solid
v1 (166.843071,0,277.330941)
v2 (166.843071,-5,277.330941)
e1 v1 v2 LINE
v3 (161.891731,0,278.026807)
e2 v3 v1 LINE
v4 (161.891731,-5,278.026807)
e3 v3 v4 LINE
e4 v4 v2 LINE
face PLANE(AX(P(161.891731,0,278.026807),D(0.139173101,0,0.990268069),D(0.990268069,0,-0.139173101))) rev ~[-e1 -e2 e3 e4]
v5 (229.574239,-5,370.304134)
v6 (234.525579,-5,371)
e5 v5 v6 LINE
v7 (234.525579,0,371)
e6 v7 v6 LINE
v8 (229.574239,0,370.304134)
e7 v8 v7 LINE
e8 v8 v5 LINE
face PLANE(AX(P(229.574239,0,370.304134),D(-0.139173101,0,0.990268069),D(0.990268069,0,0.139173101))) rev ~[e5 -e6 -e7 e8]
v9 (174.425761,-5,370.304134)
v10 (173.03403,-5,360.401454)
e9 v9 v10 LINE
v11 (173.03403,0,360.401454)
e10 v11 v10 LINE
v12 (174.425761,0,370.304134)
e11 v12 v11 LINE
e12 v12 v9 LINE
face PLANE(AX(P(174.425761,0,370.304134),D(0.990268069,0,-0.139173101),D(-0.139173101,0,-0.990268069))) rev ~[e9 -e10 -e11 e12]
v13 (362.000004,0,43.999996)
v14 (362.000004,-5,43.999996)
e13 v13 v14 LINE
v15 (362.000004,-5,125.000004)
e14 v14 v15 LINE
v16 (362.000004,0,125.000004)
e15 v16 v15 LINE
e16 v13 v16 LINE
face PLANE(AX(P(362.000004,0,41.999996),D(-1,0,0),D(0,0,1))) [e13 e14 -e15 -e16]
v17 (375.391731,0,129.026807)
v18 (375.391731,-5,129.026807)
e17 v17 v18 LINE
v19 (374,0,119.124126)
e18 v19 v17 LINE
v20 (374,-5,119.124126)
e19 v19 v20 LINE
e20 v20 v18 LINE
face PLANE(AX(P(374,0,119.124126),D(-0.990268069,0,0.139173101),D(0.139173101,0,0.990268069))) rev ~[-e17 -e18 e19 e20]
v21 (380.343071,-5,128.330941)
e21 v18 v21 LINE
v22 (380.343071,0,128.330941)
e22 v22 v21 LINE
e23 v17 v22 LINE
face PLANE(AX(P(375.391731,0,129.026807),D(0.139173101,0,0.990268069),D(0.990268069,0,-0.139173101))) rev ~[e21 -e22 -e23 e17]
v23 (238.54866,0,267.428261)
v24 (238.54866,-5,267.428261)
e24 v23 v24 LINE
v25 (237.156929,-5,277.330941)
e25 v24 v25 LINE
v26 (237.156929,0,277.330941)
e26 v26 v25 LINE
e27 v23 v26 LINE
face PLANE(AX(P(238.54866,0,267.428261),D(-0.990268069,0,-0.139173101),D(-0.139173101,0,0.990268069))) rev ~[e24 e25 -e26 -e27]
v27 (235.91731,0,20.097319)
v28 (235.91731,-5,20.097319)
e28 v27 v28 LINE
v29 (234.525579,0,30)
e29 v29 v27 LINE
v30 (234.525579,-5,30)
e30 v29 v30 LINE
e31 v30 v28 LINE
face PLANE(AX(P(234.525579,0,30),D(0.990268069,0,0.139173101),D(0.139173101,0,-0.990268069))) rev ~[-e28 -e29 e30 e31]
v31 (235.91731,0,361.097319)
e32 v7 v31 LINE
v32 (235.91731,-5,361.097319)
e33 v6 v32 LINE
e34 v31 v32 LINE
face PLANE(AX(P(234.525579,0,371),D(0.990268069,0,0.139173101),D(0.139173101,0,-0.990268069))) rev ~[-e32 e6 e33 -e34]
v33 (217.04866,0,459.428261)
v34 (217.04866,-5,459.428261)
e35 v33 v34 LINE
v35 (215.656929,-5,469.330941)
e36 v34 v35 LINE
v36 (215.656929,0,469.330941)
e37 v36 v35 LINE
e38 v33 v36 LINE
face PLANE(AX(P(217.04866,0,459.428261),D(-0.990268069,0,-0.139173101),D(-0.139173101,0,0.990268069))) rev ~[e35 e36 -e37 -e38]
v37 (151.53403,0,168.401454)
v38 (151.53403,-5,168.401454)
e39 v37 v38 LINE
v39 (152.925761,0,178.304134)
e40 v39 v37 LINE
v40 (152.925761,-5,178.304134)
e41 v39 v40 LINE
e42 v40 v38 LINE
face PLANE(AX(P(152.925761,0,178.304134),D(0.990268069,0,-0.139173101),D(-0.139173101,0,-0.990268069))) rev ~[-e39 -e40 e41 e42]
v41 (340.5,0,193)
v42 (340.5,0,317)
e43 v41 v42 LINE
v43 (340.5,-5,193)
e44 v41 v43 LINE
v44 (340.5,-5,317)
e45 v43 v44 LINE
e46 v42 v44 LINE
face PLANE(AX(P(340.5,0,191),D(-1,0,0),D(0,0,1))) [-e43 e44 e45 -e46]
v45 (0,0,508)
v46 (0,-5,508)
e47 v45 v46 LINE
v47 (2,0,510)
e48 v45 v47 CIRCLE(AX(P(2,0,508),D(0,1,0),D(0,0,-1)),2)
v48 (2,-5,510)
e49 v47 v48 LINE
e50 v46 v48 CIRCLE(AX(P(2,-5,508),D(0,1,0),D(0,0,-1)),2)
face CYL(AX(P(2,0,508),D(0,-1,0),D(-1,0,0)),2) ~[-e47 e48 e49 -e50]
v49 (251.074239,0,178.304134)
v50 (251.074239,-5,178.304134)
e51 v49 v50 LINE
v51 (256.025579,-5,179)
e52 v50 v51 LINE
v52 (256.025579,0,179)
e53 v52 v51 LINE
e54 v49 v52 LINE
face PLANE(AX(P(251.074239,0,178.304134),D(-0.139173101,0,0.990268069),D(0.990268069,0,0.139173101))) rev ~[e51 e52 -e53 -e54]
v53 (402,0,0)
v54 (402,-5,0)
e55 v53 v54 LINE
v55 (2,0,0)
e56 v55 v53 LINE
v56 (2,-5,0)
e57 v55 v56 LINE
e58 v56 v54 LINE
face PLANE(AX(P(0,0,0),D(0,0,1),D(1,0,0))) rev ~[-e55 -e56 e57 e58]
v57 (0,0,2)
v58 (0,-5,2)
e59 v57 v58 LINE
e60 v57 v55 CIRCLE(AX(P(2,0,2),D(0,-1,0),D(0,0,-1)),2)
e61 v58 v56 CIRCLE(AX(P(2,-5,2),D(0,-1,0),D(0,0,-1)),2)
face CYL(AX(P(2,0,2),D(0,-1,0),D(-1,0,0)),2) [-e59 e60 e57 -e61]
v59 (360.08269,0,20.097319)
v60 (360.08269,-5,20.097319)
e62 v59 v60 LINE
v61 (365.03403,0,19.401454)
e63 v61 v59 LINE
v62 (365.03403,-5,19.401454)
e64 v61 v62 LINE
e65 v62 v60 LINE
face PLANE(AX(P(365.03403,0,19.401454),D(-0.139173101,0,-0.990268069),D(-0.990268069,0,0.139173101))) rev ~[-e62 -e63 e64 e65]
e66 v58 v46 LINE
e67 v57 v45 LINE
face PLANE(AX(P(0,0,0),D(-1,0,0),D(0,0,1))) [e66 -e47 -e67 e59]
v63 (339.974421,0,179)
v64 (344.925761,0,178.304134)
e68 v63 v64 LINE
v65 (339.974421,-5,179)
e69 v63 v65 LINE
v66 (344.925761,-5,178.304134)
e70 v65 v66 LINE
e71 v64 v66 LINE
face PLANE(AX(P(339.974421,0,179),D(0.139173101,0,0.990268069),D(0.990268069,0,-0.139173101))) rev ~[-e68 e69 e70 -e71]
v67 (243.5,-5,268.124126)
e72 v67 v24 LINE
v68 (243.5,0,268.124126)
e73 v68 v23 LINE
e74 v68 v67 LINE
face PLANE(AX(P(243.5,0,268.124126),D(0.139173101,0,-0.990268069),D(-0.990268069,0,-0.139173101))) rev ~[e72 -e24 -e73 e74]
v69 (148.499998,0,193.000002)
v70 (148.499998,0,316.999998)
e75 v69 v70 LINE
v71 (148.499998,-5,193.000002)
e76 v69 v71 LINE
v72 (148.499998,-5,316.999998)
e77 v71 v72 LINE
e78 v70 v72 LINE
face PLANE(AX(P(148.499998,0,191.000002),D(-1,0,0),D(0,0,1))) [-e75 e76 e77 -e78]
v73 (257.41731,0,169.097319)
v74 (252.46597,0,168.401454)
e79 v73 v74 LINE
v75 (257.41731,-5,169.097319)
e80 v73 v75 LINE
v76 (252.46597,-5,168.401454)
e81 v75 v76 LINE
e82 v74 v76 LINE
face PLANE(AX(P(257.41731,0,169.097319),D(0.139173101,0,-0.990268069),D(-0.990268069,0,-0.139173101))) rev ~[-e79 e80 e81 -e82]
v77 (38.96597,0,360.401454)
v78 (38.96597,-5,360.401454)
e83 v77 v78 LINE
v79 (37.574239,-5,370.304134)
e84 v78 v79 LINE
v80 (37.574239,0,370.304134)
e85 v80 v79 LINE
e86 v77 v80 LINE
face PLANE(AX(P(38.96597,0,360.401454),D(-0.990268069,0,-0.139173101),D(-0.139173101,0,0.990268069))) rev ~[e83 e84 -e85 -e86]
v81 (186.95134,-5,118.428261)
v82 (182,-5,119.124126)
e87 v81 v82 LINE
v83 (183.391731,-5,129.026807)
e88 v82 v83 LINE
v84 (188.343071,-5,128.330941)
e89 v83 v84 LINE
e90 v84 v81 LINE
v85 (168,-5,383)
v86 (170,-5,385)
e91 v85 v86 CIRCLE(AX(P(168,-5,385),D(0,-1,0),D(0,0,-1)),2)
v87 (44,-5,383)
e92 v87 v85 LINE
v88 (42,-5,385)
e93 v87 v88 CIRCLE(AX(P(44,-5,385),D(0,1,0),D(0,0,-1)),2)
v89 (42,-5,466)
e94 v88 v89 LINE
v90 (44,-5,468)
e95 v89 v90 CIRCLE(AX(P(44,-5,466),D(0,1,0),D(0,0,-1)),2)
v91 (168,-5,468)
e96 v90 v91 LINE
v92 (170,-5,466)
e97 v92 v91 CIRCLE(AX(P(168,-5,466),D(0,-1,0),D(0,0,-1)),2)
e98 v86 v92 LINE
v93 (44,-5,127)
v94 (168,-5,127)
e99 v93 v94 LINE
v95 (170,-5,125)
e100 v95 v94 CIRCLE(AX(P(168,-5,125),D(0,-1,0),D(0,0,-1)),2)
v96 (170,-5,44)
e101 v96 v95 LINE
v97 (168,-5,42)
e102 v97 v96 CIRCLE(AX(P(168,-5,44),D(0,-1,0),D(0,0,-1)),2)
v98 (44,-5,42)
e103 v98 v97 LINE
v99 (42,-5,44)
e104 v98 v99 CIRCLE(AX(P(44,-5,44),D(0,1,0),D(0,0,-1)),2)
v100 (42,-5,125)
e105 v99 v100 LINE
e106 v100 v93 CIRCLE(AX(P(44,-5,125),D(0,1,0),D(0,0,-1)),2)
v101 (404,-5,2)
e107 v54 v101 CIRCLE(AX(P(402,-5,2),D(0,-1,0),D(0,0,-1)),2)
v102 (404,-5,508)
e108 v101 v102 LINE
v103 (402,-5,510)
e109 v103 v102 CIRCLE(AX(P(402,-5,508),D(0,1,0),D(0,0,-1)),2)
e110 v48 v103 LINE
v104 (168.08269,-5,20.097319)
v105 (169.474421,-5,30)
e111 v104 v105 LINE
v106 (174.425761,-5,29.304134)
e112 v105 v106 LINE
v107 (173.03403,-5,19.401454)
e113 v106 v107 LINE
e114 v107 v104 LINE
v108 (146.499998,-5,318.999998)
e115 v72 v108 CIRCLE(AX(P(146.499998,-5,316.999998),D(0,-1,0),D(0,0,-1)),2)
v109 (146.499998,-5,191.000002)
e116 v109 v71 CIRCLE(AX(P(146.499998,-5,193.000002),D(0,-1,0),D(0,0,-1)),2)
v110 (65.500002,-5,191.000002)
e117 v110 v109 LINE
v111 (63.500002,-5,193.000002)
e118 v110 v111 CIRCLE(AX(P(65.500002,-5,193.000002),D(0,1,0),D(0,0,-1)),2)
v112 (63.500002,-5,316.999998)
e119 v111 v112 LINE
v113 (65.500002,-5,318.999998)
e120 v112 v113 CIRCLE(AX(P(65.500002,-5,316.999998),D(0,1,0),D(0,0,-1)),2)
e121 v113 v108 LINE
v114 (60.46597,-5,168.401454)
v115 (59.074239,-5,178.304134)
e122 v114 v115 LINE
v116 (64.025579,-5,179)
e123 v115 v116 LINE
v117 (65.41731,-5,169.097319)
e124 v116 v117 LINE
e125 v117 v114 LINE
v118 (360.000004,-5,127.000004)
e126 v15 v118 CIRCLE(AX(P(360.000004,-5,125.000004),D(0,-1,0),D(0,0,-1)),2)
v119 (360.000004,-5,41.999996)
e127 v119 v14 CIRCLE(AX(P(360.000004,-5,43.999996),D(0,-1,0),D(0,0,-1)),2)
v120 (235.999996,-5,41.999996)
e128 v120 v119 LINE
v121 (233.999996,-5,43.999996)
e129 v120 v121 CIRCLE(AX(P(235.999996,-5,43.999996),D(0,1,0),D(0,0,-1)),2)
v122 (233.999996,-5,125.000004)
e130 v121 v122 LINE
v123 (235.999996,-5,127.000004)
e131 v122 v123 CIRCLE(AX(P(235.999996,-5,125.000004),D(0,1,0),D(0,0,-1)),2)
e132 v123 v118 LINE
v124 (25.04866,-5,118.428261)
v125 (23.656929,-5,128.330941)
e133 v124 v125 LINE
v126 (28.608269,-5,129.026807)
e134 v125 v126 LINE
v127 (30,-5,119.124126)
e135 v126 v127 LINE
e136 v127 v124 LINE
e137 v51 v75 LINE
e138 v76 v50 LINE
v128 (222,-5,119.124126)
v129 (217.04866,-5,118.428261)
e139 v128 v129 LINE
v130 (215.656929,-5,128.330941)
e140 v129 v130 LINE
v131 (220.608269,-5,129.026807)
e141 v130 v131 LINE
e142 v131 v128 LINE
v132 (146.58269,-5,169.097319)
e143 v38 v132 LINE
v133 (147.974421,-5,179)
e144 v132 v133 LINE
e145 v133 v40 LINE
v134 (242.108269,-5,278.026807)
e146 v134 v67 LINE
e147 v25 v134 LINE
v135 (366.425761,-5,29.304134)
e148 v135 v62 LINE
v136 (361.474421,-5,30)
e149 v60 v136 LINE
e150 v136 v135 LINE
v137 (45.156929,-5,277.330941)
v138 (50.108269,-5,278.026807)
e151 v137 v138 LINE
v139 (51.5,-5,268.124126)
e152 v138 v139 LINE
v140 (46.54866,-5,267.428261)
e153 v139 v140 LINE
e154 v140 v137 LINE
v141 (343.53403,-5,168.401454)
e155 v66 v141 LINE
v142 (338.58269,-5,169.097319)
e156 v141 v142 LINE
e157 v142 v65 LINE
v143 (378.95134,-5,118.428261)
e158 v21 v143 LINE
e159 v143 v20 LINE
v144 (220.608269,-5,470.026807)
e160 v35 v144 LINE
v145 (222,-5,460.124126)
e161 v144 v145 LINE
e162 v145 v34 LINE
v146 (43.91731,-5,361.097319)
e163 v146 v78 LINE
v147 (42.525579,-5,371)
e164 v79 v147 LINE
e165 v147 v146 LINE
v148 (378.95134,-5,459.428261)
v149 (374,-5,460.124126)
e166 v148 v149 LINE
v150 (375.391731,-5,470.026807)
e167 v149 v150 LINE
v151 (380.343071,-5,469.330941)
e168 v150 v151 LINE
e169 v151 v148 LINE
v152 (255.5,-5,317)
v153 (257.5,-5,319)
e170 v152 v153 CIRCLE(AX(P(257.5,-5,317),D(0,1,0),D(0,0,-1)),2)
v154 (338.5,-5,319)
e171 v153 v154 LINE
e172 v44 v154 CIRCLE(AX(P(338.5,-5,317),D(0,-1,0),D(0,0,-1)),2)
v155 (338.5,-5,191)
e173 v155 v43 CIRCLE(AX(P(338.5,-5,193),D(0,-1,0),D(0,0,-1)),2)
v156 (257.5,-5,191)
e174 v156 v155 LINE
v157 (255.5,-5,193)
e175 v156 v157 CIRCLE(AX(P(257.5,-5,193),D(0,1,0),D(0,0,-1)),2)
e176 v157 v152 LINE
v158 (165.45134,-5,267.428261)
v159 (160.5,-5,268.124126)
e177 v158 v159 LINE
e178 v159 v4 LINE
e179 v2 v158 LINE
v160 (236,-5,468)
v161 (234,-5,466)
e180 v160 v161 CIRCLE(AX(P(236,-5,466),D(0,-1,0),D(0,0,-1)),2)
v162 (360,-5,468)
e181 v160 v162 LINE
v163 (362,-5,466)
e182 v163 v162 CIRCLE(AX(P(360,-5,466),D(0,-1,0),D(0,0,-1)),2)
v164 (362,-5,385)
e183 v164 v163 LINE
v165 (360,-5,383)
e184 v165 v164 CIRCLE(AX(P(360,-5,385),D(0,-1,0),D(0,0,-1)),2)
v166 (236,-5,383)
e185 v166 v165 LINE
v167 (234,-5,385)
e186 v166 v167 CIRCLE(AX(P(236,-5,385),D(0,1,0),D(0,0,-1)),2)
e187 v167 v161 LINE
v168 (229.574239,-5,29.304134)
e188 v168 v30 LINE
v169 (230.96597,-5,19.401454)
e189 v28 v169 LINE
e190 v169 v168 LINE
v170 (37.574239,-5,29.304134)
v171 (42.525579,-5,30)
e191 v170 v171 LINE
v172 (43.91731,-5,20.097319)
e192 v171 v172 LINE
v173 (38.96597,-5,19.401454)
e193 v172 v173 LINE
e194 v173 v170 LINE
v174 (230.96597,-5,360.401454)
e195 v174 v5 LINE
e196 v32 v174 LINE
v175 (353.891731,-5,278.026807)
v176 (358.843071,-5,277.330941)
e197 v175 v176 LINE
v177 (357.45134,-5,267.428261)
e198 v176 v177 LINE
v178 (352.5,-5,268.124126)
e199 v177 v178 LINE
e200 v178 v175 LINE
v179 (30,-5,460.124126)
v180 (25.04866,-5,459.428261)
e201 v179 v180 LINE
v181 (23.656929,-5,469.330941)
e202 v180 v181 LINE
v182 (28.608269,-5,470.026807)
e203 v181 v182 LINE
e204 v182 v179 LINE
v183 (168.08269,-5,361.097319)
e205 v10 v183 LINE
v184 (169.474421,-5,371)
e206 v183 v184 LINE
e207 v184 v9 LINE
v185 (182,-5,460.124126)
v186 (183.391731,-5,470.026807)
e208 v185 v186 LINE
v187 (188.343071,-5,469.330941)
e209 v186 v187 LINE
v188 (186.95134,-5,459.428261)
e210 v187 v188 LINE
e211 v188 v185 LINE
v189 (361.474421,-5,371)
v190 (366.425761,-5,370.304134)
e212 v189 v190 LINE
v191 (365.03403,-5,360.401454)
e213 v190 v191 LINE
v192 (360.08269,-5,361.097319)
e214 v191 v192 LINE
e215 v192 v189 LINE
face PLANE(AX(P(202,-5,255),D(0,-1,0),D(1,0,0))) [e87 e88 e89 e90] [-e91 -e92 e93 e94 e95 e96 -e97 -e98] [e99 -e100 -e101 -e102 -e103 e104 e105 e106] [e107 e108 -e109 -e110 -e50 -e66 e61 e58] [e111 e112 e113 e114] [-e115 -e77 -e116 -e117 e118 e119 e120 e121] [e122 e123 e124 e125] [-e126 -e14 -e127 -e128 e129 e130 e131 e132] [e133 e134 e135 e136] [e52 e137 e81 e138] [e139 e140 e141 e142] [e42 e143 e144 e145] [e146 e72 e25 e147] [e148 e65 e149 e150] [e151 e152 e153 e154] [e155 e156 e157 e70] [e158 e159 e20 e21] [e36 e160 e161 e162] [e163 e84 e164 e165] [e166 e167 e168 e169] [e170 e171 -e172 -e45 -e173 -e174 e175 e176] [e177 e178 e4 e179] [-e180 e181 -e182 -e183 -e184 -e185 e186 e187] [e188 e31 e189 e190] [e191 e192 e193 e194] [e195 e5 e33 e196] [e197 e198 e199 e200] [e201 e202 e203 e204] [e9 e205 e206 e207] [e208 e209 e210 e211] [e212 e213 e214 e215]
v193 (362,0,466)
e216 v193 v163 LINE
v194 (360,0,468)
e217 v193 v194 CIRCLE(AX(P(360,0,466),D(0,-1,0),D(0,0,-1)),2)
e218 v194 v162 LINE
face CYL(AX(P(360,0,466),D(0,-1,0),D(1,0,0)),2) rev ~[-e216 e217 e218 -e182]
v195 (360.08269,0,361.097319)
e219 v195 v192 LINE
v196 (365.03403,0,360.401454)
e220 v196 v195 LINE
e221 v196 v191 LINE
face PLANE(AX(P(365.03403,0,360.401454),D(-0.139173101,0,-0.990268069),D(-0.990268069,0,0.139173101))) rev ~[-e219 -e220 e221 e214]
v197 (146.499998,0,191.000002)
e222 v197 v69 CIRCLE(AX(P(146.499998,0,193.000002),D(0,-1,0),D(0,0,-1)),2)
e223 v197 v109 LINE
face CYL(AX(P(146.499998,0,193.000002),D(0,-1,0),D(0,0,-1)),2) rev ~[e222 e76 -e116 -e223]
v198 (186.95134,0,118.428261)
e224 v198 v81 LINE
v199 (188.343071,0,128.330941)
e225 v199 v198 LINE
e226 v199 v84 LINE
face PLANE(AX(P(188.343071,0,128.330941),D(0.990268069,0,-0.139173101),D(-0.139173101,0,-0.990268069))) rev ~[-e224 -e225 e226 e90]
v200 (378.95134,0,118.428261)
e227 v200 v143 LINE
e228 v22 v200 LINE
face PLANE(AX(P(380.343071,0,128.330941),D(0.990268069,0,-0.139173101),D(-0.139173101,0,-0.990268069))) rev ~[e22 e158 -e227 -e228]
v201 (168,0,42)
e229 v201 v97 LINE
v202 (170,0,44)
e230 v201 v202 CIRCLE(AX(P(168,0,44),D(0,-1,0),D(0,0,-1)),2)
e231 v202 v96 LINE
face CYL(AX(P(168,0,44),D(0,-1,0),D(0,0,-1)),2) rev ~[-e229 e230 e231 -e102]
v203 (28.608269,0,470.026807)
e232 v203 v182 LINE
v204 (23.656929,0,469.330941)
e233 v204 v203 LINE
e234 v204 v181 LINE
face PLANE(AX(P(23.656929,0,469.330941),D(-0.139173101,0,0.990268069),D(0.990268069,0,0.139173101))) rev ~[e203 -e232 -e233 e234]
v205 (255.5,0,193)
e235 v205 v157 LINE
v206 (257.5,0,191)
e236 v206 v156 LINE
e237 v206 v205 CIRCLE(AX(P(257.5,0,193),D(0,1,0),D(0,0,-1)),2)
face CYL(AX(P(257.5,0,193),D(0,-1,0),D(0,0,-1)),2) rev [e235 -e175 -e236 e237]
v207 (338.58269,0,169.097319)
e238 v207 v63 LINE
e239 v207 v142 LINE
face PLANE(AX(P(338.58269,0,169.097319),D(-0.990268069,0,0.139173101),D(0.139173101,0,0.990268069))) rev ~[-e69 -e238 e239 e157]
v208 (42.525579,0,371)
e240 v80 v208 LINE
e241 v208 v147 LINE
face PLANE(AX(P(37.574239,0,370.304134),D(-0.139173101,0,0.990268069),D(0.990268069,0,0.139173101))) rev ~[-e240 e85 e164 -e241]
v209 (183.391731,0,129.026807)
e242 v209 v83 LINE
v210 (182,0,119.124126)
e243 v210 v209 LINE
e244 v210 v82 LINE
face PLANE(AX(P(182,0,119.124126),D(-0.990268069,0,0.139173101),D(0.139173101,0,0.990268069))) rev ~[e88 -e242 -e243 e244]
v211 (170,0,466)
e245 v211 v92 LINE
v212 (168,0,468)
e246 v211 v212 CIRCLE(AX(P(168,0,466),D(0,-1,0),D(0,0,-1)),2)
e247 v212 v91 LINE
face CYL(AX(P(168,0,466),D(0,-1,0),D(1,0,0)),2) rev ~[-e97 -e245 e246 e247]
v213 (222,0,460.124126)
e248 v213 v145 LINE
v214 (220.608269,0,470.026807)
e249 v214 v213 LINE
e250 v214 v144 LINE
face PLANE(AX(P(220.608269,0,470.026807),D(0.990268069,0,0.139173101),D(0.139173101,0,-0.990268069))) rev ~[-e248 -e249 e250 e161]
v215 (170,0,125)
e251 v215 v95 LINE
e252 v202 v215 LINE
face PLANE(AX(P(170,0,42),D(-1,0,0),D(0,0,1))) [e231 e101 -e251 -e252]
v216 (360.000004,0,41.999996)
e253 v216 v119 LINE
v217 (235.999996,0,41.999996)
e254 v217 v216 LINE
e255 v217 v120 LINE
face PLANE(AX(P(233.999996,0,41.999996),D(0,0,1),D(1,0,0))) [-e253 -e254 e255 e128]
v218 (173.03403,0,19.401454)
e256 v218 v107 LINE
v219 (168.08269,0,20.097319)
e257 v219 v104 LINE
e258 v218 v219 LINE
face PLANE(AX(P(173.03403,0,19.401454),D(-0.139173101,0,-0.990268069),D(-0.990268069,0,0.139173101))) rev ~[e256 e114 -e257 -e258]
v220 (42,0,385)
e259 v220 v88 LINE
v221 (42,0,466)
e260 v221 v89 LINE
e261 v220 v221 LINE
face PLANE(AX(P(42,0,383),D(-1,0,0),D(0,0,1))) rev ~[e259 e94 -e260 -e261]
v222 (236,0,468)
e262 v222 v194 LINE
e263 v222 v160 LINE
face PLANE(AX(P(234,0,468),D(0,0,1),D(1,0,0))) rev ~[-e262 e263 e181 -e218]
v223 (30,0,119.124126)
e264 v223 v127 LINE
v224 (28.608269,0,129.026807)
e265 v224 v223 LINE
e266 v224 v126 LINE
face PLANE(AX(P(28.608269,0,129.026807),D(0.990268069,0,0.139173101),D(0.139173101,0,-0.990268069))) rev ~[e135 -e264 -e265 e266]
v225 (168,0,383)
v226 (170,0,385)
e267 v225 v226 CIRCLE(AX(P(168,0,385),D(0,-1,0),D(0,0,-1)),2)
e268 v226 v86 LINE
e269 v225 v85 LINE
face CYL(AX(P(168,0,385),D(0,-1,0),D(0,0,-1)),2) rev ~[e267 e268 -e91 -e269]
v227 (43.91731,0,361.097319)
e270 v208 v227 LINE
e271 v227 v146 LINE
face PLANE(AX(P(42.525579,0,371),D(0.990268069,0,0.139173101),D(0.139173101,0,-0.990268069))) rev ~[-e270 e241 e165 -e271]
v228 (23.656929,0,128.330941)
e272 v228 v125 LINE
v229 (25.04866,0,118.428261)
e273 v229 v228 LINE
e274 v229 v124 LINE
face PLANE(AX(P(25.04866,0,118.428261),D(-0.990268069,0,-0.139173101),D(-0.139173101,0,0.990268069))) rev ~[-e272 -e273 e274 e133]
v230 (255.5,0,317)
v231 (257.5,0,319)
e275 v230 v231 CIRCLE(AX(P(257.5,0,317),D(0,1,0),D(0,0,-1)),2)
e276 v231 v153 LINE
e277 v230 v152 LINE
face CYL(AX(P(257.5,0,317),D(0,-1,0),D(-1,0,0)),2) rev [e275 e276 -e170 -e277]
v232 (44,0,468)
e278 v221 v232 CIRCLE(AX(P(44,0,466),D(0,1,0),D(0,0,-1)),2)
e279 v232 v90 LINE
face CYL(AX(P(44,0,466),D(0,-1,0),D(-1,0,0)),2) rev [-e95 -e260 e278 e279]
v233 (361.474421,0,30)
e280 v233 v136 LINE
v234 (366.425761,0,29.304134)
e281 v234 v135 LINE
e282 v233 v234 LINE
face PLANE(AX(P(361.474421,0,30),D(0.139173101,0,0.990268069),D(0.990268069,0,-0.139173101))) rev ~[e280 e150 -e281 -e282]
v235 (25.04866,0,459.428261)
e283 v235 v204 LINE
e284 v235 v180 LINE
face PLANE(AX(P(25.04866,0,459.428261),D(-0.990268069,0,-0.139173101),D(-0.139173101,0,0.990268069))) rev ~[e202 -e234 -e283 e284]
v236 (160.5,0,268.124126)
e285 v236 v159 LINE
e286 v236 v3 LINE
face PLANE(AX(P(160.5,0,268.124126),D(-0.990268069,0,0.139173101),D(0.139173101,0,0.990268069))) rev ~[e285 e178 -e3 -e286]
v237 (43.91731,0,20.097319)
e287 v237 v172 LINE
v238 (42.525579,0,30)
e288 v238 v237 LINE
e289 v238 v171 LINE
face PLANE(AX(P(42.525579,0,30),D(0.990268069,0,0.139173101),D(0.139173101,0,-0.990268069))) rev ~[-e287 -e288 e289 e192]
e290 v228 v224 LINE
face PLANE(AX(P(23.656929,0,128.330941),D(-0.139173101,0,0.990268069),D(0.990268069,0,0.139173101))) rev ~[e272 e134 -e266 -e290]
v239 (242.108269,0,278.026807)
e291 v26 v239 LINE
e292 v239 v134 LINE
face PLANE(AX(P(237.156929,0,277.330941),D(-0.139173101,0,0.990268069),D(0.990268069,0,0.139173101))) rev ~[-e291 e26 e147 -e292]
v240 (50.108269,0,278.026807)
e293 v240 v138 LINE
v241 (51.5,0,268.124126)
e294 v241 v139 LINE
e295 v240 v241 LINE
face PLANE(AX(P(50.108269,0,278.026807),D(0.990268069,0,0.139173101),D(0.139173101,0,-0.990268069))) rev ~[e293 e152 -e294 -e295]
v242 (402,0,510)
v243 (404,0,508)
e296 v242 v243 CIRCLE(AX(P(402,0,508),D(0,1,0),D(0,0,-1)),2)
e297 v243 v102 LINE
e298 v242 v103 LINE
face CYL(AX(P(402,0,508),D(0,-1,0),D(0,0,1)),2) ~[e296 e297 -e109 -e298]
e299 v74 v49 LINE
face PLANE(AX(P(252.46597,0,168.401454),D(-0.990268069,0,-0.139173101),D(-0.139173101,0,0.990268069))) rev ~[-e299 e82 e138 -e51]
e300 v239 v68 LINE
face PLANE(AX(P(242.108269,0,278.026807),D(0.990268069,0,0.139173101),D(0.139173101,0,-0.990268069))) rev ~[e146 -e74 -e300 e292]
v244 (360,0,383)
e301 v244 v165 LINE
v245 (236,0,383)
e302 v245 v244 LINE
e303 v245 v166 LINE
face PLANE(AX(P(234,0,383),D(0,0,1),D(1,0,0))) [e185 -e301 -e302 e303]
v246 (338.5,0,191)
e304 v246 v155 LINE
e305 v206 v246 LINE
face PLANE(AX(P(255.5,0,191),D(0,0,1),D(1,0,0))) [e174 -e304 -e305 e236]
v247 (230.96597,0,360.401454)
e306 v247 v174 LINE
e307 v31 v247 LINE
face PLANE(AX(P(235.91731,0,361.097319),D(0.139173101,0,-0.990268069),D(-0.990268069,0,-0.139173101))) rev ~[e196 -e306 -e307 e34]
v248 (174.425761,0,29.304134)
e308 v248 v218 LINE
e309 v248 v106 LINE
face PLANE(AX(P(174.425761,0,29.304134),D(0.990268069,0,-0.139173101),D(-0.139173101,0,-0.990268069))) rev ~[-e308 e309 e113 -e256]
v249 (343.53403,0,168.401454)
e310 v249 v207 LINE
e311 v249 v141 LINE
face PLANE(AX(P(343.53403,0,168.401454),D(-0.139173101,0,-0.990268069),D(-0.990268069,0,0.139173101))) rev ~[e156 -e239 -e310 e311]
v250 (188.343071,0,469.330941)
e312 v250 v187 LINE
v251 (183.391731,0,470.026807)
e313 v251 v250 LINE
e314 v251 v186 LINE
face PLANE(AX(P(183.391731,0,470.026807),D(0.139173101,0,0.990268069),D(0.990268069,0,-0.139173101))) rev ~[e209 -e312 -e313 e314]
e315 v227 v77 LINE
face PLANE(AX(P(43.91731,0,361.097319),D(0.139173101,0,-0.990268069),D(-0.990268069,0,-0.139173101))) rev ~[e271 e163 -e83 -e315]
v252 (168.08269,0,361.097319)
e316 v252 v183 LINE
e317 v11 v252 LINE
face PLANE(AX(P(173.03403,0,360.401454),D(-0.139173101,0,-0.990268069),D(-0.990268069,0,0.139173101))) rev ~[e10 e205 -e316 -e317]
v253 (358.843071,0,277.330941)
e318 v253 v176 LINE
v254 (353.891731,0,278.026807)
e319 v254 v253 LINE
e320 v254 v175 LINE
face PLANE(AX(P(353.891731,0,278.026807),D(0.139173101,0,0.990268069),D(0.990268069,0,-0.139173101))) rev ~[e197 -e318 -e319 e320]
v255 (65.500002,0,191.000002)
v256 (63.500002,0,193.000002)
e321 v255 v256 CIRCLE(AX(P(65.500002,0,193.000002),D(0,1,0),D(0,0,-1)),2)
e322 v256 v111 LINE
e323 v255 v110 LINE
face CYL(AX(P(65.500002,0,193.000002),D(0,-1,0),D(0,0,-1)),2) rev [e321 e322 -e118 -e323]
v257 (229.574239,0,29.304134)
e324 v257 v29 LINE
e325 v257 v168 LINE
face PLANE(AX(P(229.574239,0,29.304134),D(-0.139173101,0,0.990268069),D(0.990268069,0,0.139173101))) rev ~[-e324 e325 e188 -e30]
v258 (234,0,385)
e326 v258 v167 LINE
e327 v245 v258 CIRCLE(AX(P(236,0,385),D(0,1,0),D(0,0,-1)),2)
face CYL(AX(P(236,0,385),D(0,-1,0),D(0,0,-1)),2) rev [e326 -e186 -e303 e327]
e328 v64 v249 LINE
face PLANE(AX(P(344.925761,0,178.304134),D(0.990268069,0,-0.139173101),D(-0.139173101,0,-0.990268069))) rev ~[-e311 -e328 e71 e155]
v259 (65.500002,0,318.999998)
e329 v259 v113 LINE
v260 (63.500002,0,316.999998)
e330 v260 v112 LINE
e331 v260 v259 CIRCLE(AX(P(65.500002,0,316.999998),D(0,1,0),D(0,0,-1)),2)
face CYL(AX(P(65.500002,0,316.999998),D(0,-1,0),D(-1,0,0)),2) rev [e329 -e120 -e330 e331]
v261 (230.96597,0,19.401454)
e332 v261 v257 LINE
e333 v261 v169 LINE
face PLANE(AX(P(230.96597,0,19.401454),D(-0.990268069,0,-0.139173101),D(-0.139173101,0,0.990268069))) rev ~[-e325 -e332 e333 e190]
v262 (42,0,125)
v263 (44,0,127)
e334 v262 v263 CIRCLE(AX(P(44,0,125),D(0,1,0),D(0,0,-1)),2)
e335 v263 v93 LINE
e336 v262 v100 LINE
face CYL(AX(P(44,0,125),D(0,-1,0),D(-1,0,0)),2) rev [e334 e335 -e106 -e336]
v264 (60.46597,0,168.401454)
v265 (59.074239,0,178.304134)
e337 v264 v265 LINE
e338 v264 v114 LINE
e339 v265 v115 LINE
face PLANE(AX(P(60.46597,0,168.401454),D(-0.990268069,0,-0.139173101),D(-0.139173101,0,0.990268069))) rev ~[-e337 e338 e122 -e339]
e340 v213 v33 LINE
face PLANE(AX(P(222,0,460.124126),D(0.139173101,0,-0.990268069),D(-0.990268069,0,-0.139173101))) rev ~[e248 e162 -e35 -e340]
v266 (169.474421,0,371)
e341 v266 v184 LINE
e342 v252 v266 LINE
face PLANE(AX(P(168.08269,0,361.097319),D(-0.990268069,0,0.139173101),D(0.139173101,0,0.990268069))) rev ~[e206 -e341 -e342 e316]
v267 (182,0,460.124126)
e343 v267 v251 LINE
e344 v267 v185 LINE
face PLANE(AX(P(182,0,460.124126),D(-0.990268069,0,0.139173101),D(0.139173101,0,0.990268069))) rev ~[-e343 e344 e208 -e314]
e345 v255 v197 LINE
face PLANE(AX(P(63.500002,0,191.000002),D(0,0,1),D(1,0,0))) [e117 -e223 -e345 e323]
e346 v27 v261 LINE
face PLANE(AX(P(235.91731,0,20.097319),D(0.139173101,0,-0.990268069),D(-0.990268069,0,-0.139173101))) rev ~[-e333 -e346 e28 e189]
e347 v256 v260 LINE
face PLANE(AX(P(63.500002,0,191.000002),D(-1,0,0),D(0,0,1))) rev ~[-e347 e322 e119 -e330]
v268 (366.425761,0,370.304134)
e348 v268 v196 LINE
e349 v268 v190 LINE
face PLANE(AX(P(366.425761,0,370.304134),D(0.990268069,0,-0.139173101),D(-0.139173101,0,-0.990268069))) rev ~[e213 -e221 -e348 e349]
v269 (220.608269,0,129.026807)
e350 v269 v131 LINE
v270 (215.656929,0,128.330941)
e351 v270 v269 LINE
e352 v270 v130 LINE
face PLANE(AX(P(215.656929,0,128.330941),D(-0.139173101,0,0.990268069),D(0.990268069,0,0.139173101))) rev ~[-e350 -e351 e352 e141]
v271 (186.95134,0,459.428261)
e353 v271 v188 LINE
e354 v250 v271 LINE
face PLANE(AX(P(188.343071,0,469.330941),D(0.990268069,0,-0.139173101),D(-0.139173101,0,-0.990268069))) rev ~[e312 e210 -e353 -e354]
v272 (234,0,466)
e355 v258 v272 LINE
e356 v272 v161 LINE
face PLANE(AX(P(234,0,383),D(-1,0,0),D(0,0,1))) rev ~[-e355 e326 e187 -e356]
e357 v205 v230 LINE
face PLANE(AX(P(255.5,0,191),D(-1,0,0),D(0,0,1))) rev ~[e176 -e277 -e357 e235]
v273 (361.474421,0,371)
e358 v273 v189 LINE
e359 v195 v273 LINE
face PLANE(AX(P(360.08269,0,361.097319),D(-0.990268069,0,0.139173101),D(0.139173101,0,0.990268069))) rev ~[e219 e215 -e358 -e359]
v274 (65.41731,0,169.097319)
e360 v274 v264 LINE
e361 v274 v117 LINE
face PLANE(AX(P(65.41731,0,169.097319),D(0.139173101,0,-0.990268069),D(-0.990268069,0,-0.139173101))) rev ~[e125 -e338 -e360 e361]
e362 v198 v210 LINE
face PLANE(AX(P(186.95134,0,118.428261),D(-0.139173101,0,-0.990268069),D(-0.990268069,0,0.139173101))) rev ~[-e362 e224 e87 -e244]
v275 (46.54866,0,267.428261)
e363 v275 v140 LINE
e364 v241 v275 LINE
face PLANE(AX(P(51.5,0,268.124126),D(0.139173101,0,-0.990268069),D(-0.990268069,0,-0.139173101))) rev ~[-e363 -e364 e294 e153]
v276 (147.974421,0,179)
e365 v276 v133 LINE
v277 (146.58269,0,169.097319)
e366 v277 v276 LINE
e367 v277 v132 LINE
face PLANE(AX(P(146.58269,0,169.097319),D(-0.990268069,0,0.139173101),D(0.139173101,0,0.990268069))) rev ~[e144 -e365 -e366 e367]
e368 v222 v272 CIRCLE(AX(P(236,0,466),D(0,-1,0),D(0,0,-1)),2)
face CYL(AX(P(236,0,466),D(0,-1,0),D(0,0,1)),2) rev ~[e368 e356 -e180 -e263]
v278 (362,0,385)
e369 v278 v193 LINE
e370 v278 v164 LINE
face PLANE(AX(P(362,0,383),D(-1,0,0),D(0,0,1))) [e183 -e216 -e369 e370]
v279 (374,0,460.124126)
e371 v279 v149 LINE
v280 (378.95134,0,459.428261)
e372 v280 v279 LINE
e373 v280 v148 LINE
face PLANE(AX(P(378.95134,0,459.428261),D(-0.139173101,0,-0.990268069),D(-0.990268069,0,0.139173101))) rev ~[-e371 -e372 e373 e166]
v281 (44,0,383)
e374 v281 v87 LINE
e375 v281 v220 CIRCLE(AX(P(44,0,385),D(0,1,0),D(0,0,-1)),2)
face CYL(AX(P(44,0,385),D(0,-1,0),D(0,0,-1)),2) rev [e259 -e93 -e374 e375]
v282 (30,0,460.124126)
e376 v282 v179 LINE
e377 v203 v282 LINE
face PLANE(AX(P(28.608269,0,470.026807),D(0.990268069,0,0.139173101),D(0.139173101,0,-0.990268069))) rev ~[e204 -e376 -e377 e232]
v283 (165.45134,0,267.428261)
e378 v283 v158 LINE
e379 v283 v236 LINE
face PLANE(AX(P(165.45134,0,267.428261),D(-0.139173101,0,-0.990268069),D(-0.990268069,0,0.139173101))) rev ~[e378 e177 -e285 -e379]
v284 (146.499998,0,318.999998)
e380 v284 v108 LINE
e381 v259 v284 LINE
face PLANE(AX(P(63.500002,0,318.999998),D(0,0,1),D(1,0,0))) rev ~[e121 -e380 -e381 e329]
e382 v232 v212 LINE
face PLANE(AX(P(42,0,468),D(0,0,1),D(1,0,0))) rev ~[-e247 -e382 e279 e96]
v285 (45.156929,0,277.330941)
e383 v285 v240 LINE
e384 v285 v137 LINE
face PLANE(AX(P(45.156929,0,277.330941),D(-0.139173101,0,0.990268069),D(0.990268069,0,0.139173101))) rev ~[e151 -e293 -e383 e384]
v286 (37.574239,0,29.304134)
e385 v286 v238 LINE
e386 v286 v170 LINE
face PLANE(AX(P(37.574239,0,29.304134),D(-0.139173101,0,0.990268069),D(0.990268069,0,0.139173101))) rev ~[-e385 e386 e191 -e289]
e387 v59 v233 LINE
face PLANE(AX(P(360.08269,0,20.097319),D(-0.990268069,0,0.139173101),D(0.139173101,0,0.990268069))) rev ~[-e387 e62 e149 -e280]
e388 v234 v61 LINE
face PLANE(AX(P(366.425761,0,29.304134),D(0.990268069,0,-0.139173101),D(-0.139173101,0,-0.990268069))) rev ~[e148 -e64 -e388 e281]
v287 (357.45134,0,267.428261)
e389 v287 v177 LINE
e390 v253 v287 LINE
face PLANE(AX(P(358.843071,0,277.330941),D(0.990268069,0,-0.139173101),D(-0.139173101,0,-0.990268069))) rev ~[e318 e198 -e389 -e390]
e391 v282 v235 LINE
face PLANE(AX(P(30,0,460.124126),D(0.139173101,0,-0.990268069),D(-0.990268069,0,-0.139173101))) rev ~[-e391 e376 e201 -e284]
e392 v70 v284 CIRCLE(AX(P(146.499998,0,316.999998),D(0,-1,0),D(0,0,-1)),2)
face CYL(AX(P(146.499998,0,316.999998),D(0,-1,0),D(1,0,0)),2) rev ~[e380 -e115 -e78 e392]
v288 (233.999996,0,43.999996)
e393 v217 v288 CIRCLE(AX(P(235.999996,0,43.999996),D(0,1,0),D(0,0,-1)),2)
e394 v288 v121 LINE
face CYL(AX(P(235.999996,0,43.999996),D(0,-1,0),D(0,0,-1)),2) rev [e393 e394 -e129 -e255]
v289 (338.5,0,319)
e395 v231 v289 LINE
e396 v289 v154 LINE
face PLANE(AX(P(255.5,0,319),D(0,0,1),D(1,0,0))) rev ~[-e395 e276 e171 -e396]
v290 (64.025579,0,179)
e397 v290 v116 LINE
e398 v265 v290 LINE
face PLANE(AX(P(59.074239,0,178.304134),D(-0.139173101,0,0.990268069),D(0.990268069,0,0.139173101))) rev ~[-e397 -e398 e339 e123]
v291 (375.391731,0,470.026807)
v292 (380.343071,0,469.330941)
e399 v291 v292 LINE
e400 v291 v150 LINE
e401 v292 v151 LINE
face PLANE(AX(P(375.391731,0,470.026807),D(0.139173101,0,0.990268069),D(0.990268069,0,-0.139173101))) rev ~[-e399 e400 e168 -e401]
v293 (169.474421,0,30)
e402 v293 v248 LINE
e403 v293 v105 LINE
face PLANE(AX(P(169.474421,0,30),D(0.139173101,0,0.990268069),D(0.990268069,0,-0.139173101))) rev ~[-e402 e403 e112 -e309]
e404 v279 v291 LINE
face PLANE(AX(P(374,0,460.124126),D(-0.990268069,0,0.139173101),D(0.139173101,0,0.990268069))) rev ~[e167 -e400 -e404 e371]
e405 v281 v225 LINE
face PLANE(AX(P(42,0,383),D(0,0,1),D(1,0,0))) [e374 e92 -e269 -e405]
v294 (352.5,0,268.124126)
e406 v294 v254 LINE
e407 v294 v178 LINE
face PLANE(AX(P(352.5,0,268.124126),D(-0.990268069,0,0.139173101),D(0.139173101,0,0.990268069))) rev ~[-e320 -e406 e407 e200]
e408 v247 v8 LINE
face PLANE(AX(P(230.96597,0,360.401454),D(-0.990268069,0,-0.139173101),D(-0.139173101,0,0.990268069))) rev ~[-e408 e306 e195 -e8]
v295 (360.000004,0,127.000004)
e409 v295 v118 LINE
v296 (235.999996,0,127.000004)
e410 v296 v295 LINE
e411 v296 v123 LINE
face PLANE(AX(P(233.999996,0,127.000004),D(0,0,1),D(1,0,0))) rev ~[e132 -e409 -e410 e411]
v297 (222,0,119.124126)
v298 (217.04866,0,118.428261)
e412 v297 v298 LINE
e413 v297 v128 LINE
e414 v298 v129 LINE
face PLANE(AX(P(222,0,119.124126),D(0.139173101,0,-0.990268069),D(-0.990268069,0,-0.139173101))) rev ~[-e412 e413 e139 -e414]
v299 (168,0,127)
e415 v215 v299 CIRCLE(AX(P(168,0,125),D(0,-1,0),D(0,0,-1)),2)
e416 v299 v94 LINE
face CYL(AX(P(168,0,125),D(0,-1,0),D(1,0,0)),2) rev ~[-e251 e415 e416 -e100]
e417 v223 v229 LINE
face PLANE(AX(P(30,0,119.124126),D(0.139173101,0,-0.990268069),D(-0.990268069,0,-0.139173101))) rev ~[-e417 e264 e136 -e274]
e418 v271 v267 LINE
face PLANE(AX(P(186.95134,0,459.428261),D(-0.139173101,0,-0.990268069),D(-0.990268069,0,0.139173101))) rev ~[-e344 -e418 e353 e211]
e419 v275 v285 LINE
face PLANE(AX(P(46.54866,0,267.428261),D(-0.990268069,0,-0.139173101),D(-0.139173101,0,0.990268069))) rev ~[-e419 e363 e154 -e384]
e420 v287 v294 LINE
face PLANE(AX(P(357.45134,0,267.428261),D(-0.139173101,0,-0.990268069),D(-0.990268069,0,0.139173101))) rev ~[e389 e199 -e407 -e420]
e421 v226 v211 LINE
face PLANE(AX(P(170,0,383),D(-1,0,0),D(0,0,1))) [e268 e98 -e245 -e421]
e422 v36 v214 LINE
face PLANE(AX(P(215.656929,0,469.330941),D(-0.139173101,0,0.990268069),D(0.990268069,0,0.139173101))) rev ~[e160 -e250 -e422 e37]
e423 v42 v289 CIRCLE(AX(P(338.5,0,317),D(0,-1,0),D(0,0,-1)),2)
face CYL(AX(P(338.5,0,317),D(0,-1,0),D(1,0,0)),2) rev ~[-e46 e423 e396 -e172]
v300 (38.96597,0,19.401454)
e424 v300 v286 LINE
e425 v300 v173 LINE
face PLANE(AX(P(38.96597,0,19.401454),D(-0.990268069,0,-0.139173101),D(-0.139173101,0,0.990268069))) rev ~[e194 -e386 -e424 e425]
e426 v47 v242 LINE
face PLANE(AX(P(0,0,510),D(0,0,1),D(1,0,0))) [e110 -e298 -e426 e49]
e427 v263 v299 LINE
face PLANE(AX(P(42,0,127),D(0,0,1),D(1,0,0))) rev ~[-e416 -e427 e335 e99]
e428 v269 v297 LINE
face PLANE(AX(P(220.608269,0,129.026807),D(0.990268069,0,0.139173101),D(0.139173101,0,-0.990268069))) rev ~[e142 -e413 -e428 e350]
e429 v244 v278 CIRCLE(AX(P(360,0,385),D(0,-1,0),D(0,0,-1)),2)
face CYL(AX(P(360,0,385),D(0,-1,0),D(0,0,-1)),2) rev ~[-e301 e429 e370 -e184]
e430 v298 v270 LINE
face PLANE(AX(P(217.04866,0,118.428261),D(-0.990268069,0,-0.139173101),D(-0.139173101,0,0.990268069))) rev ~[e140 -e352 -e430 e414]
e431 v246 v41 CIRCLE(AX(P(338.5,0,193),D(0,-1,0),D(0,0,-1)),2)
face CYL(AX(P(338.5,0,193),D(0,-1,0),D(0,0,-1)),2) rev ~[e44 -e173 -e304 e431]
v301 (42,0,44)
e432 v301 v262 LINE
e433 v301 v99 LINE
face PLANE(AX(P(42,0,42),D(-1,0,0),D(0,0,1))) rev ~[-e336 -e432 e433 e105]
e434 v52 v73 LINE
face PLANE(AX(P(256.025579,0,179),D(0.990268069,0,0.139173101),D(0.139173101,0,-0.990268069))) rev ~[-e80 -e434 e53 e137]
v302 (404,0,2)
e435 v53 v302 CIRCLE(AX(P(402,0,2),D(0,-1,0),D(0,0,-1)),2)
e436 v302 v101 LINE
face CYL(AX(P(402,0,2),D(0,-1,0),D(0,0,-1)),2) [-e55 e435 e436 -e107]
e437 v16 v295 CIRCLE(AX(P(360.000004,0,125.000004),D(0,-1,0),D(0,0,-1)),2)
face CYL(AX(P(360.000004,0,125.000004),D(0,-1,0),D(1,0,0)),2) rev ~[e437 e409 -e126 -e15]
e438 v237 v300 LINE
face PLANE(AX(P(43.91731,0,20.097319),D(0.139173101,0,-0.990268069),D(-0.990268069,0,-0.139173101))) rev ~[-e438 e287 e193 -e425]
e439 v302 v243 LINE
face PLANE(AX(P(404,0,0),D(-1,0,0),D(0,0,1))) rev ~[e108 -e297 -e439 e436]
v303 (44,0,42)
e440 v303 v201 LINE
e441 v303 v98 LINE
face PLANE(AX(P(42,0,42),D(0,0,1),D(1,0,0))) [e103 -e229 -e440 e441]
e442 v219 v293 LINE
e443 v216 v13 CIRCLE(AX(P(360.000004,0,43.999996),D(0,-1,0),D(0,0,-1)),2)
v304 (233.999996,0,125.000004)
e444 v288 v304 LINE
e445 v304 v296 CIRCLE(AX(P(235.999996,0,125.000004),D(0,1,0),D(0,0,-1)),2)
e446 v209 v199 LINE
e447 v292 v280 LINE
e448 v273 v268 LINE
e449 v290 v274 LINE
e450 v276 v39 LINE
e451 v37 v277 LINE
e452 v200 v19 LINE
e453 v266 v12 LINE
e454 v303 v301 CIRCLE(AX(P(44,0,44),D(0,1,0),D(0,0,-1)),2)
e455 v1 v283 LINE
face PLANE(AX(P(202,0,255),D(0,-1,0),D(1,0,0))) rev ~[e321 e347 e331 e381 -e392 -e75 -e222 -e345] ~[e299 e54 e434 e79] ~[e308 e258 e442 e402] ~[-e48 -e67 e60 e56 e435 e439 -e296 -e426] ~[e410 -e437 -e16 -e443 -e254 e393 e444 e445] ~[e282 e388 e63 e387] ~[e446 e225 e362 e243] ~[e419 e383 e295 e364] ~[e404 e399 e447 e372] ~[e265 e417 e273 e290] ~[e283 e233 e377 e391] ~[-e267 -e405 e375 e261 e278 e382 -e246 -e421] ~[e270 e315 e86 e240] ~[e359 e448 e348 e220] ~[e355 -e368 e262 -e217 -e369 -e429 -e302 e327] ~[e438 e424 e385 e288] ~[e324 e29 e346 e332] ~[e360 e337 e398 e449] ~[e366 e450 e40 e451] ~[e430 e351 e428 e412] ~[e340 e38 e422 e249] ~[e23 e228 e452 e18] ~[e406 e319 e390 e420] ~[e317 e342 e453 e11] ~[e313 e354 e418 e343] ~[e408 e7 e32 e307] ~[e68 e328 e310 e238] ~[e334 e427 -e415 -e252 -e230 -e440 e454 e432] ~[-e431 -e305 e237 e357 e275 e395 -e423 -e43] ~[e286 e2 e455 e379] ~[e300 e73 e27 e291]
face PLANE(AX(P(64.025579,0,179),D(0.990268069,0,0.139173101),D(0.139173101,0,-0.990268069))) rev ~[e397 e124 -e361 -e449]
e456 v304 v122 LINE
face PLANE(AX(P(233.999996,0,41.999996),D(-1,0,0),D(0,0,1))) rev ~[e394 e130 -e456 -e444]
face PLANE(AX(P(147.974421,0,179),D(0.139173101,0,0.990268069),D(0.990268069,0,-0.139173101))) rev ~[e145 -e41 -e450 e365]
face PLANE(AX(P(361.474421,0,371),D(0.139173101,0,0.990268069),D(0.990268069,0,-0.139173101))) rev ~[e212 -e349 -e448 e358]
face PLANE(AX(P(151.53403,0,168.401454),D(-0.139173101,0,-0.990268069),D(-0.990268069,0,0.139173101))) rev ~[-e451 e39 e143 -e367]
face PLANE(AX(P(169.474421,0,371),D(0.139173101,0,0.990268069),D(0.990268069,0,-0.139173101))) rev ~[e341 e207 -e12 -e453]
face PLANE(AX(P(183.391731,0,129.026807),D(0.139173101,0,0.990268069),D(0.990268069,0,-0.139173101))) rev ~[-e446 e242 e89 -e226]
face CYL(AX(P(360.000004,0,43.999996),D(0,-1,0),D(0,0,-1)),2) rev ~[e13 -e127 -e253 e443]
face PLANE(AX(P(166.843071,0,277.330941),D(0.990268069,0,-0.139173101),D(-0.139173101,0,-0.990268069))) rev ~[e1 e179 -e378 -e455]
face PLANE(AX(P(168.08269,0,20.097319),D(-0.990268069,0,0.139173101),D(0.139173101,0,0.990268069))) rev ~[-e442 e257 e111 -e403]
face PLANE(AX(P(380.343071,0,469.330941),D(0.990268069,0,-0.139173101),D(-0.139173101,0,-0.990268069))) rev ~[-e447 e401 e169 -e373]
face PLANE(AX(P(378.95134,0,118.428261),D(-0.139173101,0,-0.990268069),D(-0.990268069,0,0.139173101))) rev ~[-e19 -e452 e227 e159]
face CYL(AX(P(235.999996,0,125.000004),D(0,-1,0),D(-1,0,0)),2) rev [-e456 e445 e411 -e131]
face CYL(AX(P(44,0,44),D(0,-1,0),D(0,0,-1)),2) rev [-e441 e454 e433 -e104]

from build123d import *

# Parameters (mm, degrees)
F0_W     = 404
F0_H     = 510
F0_W_2   = 84.9999959469
F0_H_2   = 127.9999959469
F0_W_3   = 128
F0_H_3   = 85
F0_W_4   = 128.0000081062
F0_H_4   = 85.0000081062
F0_W_5   = 85
F0_H_5   = 128
F1_DEPTH = 5
F2_R     = 2


with BuildPart() as f1:
    # F0 (on Front) → F1 (new body)
    with BuildSketch(Plane.XZ):
        with Locations((202, 255)):
            Rectangle(F0_W, F0_H)
        Polygon((37.5742387427, 29.3041344952), (42.5255790864, 30), (43.917310096, 20.0973193126), (38.9659697523, 19.4014538078), align=None, mode=Mode.SUBTRACT)
        Polygon((28.6082689904, 129.0268068742), (30, 119.1241261867), (25.0486596563, 118.4282606819), (23.6569286467, 128.3309413694), align=None, mode=Mode.SUBTRACT)
        Polygon((168.082689904, 20.0973193126), (169.4744209136, 30), (174.4257612573, 29.3041344952), (173.0340302477, 19.4014538078), align=None, mode=Mode.SUBTRACT)
        Polygon((42.5255790864, 30), (30, 30), (30, 119.1241261867), (30, 139), (182, 139), (182, 119.1241261867), (182, 30), (169.4744209136, 30), align=None, mode=Mode.SUBTRACT)
        Polygon((186.9513403437, 118.4282606819), (182, 119.1241261867), (183.3917310096, 129.0268068742), (188.3430713533, 128.3309413694), align=None, mode=Mode.SUBTRACT)
        Polygon((59.0742387427, 178.3041344952), (64.0255790864, 179), (65.417310096, 169.0973193126), (60.4659697523, 168.4014538078), align=None, mode=Mode.SUBTRACT)
        Polygon((146.582689904, 169.0973193126), (147.9744209136, 179), (152.9257612573, 178.3041344952), (151.5340302477, 168.4014538078), align=None, mode=Mode.SUBTRACT)
        Polygon((229.5742387427, 29.3041344952), (234.5255790864, 30), (235.917310096, 20.0973193126), (230.9659697523, 19.4014538078), align=None, mode=Mode.SUBTRACT)
        Polygon((220.6082689904, 129.0268068742), (222, 119.1241261867), (217.0486596563, 118.4282606819), (215.6569286467, 128.3309413694), align=None, mode=Mode.SUBTRACT)
        Polygon((234.5255790864, 30), (222, 30), (222, 119.1241261867), (222, 139), (374, 139), (374, 119.1241261867), (374, 30), (361.4744209136, 30), align=None, mode=Mode.SUBTRACT)
        Polygon((360.082689904, 20.0973193126), (361.4744209136, 30), (366.4257612573, 29.3041344952), (365.0340302477, 19.4014538078), align=None, mode=Mode.SUBTRACT)
        Polygon((378.9513403437, 118.4282606819), (374, 119.1241261867), (375.3917310096, 129.0268068742), (380.3430713533, 128.3309413694), align=None, mode=Mode.SUBTRACT)
        Polygon((251.0742387427, 178.3041344952), (256.0255790864, 179), (257.417310096, 169.0973193126), (252.4659697523, 168.4014538078), align=None, mode=Mode.SUBTRACT)
        Polygon((338.582689904, 169.0973193126), (339.9744209136, 179), (344.9257612573, 178.3041344952), (343.5340302477, 168.4014538078), align=None, mode=Mode.SUBTRACT)
        Polygon((50.1082689904, 278.0268068742), (51.5, 268.1241261867), (46.5486596563, 267.4282606819), (45.1569286467, 277.3309413694), align=None, mode=Mode.SUBTRACT)
        Polygon((37.5742387427, 370.3041344952), (42.5255790864, 371), (43.917310096, 361.0973193126), (38.9659697523, 360.4014538078), align=None, mode=Mode.SUBTRACT)
        Polygon((64.0255790864, 179), (51.5, 179), (51.5, 268.1241261867), (51.5, 331), (160.5, 331), (160.5, 268.1241261867), (160.5, 179), (147.9744209136, 179), align=None, mode=Mode.SUBTRACT)
        Polygon((165.4513403437, 267.4282606819), (160.5, 268.1241261867), (161.8917310096, 278.0268068742), (166.8430713533, 277.3309413694), align=None, mode=Mode.SUBTRACT)
        Polygon((168.082689904, 361.0973193126), (169.4744209136, 371), (174.4257612573, 370.3041344952), (173.0340302477, 360.4014538078), align=None, mode=Mode.SUBTRACT)
        Polygon((28.6082689904, 470.0268068742), (30, 460.1241261867), (25.0486596563, 459.4282606819), (23.6569286467, 469.3309413694), align=None, mode=Mode.SUBTRACT)
        Polygon((42.5255790864, 371), (30, 371), (30, 460.1241261867), (30, 480), (182, 480), (182, 460.1241261867), (182, 371), (169.4744209136, 371), align=None, mode=Mode.SUBTRACT)
        Polygon((186.9513403437, 459.4282606819), (182, 460.1241261867), (183.3917310096, 470.0268068742), (188.3430713533, 469.3309413694), align=None, mode=Mode.SUBTRACT)
        Polygon((242.1082689904, 278.0268068742), (243.5, 268.1241261867), (238.5486596563, 267.4282606819), (237.1569286467, 277.3309413694), align=None, mode=Mode.SUBTRACT)
        Polygon((256.0255790864, 179), (243.5, 179), (243.5, 268.1241261867), (243.5, 331), (352.5, 331), (352.5, 268.1241261867), (352.5, 179), (339.9744209136, 179), align=None, mode=Mode.SUBTRACT)
        Polygon((229.5742387427, 370.3041344952), (234.5255790864, 371), (235.917310096, 361.0973193126), (230.9659697523, 360.4014538078), align=None, mode=Mode.SUBTRACT)
        Polygon((357.4513403437, 267.4282606819), (352.5, 268.1241261867), (353.8917310096, 278.0268068742), (358.8430713533, 277.3309413694), align=None, mode=Mode.SUBTRACT)
        Polygon((360.082689904, 361.0973193126), (361.4744209136, 371), (366.4257612573, 370.3041344952), (365.0340302477, 360.4014538078), align=None, mode=Mode.SUBTRACT)
        Polygon((234.5255790864, 371), (222, 371), (222, 460.1241261867), (222, 480), (374, 480), (374, 460.1241261867), (374, 371), (361.4744209136, 371), align=None, mode=Mode.SUBTRACT)
        Polygon((220.6082689904, 470.0268068742), (222, 460.1241261867), (217.0486596563, 459.4282606819), (215.6569286467, 469.3309413694), align=None, mode=Mode.SUBTRACT)
        Polygon((378.9513403437, 459.4282606819), (374, 460.1241261867), (375.3917310096, 470.0268068742), (380.3430713533, 469.3309413694), align=None, mode=Mode.SUBTRACT)
        Polygon((51.5, 268.1241261867), (51.5, 179), (64.0255790864, 179), (147.9744209136, 179), (160.5, 179), (160.5, 268.1241261867), (160.5, 331), (51.5, 331), align=None)
        with Locations((106, 255)):
            Rectangle(F0_W_2, F0_H_2, mode=Mode.SUBTRACT)
        Polygon((30, 119.1241261867), (30, 30), (42.5255790864, 30), (169.4744209136, 30), (182, 30), (182, 119.1241261867), (182, 139), (30, 139), align=None)
        with Locations((106, 84.5)):
            Rectangle(F0_W_3, F0_H_3, mode=Mode.SUBTRACT)
        Polygon((222, 119.1241261867), (222, 30), (234.5255790864, 30), (361.4744209136, 30), (374, 30), (374, 119.1241261867), (374, 139), (222, 139), align=None)
        with Locations((298, 84.5)):
            Rectangle(F0_W_4, F0_H_4, mode=Mode.SUBTRACT)
        Polygon((243.5, 268.1241261867), (243.5, 179), (256.0255790864, 179), (339.9744209136, 179), (352.5, 179), (352.5, 268.1241261867), (352.5, 331), (243.5, 331), align=None)
        with Locations((298, 255)):
            Rectangle(F0_W_5, F0_H_5, mode=Mode.SUBTRACT)
        Polygon((30, 460.1241261867), (30, 371), (42.5255790864, 371), (169.4744209136, 371), (182, 371), (182, 460.1241261867), (182, 480), (30, 480), align=None)
        with Locations((106, 425.5)):
            Rectangle(F0_W_3, F0_H_3, mode=Mode.SUBTRACT)
        Polygon((222, 460.1241261867), (222, 371), (234.5255790864, 371), (361.4744209136, 371), (374, 371), (374, 460.1241261867), (374, 480), (222, 480), align=None)
        with Locations((298, 425.5)):
            Rectangle(F0_W_3, F0_H_3, mode=Mode.SUBTRACT)
    extrude(amount=F1_DEPTH)

    # F2
    f2_edges = [f1.edges().sort_by_distance(p)[0] for p in [
        (0, -2.5, 510),
        (404, -2.5, 510),
        (0, -2.5, 0),
        (404, -2.5, 0),
        (233.999996, -2.5, 127.000004),
        (255.5, -2.5, 319),
        (63.500002, -2.5, 318.999998),
        (42, -2.5, 127),
        (234, -2.5, 468),
        (42, -2.5, 468),
        (170, -2.5, 468),
        (362, -2.5, 468),
        (340.5, -2.5, 319),
        (148.499998, -2.5, 318.999998),
        (170, -2.5, 127),
        (362.000004, -2.5, 127.000004),
        (362.000004, -2.5, 41.999996),
        (170, -2.5, 42),
        (148.499998, -2.5, 191.000002),
        (340.5, -2.5, 191),
        (170, -2.5, 383),
        (362, -2.5, 383),
        (42, -2.5, 42),
        (233.999996, -2.5, 41.999996),
        (255.5, -2.5, 191),
        (63.500002, -2.5, 191.000002),
        (42, -2.5, 383),
        (234, -2.5, 383),
    ]]
    fillet(f2_edges, radius=F2_R)


solid = f1.part
